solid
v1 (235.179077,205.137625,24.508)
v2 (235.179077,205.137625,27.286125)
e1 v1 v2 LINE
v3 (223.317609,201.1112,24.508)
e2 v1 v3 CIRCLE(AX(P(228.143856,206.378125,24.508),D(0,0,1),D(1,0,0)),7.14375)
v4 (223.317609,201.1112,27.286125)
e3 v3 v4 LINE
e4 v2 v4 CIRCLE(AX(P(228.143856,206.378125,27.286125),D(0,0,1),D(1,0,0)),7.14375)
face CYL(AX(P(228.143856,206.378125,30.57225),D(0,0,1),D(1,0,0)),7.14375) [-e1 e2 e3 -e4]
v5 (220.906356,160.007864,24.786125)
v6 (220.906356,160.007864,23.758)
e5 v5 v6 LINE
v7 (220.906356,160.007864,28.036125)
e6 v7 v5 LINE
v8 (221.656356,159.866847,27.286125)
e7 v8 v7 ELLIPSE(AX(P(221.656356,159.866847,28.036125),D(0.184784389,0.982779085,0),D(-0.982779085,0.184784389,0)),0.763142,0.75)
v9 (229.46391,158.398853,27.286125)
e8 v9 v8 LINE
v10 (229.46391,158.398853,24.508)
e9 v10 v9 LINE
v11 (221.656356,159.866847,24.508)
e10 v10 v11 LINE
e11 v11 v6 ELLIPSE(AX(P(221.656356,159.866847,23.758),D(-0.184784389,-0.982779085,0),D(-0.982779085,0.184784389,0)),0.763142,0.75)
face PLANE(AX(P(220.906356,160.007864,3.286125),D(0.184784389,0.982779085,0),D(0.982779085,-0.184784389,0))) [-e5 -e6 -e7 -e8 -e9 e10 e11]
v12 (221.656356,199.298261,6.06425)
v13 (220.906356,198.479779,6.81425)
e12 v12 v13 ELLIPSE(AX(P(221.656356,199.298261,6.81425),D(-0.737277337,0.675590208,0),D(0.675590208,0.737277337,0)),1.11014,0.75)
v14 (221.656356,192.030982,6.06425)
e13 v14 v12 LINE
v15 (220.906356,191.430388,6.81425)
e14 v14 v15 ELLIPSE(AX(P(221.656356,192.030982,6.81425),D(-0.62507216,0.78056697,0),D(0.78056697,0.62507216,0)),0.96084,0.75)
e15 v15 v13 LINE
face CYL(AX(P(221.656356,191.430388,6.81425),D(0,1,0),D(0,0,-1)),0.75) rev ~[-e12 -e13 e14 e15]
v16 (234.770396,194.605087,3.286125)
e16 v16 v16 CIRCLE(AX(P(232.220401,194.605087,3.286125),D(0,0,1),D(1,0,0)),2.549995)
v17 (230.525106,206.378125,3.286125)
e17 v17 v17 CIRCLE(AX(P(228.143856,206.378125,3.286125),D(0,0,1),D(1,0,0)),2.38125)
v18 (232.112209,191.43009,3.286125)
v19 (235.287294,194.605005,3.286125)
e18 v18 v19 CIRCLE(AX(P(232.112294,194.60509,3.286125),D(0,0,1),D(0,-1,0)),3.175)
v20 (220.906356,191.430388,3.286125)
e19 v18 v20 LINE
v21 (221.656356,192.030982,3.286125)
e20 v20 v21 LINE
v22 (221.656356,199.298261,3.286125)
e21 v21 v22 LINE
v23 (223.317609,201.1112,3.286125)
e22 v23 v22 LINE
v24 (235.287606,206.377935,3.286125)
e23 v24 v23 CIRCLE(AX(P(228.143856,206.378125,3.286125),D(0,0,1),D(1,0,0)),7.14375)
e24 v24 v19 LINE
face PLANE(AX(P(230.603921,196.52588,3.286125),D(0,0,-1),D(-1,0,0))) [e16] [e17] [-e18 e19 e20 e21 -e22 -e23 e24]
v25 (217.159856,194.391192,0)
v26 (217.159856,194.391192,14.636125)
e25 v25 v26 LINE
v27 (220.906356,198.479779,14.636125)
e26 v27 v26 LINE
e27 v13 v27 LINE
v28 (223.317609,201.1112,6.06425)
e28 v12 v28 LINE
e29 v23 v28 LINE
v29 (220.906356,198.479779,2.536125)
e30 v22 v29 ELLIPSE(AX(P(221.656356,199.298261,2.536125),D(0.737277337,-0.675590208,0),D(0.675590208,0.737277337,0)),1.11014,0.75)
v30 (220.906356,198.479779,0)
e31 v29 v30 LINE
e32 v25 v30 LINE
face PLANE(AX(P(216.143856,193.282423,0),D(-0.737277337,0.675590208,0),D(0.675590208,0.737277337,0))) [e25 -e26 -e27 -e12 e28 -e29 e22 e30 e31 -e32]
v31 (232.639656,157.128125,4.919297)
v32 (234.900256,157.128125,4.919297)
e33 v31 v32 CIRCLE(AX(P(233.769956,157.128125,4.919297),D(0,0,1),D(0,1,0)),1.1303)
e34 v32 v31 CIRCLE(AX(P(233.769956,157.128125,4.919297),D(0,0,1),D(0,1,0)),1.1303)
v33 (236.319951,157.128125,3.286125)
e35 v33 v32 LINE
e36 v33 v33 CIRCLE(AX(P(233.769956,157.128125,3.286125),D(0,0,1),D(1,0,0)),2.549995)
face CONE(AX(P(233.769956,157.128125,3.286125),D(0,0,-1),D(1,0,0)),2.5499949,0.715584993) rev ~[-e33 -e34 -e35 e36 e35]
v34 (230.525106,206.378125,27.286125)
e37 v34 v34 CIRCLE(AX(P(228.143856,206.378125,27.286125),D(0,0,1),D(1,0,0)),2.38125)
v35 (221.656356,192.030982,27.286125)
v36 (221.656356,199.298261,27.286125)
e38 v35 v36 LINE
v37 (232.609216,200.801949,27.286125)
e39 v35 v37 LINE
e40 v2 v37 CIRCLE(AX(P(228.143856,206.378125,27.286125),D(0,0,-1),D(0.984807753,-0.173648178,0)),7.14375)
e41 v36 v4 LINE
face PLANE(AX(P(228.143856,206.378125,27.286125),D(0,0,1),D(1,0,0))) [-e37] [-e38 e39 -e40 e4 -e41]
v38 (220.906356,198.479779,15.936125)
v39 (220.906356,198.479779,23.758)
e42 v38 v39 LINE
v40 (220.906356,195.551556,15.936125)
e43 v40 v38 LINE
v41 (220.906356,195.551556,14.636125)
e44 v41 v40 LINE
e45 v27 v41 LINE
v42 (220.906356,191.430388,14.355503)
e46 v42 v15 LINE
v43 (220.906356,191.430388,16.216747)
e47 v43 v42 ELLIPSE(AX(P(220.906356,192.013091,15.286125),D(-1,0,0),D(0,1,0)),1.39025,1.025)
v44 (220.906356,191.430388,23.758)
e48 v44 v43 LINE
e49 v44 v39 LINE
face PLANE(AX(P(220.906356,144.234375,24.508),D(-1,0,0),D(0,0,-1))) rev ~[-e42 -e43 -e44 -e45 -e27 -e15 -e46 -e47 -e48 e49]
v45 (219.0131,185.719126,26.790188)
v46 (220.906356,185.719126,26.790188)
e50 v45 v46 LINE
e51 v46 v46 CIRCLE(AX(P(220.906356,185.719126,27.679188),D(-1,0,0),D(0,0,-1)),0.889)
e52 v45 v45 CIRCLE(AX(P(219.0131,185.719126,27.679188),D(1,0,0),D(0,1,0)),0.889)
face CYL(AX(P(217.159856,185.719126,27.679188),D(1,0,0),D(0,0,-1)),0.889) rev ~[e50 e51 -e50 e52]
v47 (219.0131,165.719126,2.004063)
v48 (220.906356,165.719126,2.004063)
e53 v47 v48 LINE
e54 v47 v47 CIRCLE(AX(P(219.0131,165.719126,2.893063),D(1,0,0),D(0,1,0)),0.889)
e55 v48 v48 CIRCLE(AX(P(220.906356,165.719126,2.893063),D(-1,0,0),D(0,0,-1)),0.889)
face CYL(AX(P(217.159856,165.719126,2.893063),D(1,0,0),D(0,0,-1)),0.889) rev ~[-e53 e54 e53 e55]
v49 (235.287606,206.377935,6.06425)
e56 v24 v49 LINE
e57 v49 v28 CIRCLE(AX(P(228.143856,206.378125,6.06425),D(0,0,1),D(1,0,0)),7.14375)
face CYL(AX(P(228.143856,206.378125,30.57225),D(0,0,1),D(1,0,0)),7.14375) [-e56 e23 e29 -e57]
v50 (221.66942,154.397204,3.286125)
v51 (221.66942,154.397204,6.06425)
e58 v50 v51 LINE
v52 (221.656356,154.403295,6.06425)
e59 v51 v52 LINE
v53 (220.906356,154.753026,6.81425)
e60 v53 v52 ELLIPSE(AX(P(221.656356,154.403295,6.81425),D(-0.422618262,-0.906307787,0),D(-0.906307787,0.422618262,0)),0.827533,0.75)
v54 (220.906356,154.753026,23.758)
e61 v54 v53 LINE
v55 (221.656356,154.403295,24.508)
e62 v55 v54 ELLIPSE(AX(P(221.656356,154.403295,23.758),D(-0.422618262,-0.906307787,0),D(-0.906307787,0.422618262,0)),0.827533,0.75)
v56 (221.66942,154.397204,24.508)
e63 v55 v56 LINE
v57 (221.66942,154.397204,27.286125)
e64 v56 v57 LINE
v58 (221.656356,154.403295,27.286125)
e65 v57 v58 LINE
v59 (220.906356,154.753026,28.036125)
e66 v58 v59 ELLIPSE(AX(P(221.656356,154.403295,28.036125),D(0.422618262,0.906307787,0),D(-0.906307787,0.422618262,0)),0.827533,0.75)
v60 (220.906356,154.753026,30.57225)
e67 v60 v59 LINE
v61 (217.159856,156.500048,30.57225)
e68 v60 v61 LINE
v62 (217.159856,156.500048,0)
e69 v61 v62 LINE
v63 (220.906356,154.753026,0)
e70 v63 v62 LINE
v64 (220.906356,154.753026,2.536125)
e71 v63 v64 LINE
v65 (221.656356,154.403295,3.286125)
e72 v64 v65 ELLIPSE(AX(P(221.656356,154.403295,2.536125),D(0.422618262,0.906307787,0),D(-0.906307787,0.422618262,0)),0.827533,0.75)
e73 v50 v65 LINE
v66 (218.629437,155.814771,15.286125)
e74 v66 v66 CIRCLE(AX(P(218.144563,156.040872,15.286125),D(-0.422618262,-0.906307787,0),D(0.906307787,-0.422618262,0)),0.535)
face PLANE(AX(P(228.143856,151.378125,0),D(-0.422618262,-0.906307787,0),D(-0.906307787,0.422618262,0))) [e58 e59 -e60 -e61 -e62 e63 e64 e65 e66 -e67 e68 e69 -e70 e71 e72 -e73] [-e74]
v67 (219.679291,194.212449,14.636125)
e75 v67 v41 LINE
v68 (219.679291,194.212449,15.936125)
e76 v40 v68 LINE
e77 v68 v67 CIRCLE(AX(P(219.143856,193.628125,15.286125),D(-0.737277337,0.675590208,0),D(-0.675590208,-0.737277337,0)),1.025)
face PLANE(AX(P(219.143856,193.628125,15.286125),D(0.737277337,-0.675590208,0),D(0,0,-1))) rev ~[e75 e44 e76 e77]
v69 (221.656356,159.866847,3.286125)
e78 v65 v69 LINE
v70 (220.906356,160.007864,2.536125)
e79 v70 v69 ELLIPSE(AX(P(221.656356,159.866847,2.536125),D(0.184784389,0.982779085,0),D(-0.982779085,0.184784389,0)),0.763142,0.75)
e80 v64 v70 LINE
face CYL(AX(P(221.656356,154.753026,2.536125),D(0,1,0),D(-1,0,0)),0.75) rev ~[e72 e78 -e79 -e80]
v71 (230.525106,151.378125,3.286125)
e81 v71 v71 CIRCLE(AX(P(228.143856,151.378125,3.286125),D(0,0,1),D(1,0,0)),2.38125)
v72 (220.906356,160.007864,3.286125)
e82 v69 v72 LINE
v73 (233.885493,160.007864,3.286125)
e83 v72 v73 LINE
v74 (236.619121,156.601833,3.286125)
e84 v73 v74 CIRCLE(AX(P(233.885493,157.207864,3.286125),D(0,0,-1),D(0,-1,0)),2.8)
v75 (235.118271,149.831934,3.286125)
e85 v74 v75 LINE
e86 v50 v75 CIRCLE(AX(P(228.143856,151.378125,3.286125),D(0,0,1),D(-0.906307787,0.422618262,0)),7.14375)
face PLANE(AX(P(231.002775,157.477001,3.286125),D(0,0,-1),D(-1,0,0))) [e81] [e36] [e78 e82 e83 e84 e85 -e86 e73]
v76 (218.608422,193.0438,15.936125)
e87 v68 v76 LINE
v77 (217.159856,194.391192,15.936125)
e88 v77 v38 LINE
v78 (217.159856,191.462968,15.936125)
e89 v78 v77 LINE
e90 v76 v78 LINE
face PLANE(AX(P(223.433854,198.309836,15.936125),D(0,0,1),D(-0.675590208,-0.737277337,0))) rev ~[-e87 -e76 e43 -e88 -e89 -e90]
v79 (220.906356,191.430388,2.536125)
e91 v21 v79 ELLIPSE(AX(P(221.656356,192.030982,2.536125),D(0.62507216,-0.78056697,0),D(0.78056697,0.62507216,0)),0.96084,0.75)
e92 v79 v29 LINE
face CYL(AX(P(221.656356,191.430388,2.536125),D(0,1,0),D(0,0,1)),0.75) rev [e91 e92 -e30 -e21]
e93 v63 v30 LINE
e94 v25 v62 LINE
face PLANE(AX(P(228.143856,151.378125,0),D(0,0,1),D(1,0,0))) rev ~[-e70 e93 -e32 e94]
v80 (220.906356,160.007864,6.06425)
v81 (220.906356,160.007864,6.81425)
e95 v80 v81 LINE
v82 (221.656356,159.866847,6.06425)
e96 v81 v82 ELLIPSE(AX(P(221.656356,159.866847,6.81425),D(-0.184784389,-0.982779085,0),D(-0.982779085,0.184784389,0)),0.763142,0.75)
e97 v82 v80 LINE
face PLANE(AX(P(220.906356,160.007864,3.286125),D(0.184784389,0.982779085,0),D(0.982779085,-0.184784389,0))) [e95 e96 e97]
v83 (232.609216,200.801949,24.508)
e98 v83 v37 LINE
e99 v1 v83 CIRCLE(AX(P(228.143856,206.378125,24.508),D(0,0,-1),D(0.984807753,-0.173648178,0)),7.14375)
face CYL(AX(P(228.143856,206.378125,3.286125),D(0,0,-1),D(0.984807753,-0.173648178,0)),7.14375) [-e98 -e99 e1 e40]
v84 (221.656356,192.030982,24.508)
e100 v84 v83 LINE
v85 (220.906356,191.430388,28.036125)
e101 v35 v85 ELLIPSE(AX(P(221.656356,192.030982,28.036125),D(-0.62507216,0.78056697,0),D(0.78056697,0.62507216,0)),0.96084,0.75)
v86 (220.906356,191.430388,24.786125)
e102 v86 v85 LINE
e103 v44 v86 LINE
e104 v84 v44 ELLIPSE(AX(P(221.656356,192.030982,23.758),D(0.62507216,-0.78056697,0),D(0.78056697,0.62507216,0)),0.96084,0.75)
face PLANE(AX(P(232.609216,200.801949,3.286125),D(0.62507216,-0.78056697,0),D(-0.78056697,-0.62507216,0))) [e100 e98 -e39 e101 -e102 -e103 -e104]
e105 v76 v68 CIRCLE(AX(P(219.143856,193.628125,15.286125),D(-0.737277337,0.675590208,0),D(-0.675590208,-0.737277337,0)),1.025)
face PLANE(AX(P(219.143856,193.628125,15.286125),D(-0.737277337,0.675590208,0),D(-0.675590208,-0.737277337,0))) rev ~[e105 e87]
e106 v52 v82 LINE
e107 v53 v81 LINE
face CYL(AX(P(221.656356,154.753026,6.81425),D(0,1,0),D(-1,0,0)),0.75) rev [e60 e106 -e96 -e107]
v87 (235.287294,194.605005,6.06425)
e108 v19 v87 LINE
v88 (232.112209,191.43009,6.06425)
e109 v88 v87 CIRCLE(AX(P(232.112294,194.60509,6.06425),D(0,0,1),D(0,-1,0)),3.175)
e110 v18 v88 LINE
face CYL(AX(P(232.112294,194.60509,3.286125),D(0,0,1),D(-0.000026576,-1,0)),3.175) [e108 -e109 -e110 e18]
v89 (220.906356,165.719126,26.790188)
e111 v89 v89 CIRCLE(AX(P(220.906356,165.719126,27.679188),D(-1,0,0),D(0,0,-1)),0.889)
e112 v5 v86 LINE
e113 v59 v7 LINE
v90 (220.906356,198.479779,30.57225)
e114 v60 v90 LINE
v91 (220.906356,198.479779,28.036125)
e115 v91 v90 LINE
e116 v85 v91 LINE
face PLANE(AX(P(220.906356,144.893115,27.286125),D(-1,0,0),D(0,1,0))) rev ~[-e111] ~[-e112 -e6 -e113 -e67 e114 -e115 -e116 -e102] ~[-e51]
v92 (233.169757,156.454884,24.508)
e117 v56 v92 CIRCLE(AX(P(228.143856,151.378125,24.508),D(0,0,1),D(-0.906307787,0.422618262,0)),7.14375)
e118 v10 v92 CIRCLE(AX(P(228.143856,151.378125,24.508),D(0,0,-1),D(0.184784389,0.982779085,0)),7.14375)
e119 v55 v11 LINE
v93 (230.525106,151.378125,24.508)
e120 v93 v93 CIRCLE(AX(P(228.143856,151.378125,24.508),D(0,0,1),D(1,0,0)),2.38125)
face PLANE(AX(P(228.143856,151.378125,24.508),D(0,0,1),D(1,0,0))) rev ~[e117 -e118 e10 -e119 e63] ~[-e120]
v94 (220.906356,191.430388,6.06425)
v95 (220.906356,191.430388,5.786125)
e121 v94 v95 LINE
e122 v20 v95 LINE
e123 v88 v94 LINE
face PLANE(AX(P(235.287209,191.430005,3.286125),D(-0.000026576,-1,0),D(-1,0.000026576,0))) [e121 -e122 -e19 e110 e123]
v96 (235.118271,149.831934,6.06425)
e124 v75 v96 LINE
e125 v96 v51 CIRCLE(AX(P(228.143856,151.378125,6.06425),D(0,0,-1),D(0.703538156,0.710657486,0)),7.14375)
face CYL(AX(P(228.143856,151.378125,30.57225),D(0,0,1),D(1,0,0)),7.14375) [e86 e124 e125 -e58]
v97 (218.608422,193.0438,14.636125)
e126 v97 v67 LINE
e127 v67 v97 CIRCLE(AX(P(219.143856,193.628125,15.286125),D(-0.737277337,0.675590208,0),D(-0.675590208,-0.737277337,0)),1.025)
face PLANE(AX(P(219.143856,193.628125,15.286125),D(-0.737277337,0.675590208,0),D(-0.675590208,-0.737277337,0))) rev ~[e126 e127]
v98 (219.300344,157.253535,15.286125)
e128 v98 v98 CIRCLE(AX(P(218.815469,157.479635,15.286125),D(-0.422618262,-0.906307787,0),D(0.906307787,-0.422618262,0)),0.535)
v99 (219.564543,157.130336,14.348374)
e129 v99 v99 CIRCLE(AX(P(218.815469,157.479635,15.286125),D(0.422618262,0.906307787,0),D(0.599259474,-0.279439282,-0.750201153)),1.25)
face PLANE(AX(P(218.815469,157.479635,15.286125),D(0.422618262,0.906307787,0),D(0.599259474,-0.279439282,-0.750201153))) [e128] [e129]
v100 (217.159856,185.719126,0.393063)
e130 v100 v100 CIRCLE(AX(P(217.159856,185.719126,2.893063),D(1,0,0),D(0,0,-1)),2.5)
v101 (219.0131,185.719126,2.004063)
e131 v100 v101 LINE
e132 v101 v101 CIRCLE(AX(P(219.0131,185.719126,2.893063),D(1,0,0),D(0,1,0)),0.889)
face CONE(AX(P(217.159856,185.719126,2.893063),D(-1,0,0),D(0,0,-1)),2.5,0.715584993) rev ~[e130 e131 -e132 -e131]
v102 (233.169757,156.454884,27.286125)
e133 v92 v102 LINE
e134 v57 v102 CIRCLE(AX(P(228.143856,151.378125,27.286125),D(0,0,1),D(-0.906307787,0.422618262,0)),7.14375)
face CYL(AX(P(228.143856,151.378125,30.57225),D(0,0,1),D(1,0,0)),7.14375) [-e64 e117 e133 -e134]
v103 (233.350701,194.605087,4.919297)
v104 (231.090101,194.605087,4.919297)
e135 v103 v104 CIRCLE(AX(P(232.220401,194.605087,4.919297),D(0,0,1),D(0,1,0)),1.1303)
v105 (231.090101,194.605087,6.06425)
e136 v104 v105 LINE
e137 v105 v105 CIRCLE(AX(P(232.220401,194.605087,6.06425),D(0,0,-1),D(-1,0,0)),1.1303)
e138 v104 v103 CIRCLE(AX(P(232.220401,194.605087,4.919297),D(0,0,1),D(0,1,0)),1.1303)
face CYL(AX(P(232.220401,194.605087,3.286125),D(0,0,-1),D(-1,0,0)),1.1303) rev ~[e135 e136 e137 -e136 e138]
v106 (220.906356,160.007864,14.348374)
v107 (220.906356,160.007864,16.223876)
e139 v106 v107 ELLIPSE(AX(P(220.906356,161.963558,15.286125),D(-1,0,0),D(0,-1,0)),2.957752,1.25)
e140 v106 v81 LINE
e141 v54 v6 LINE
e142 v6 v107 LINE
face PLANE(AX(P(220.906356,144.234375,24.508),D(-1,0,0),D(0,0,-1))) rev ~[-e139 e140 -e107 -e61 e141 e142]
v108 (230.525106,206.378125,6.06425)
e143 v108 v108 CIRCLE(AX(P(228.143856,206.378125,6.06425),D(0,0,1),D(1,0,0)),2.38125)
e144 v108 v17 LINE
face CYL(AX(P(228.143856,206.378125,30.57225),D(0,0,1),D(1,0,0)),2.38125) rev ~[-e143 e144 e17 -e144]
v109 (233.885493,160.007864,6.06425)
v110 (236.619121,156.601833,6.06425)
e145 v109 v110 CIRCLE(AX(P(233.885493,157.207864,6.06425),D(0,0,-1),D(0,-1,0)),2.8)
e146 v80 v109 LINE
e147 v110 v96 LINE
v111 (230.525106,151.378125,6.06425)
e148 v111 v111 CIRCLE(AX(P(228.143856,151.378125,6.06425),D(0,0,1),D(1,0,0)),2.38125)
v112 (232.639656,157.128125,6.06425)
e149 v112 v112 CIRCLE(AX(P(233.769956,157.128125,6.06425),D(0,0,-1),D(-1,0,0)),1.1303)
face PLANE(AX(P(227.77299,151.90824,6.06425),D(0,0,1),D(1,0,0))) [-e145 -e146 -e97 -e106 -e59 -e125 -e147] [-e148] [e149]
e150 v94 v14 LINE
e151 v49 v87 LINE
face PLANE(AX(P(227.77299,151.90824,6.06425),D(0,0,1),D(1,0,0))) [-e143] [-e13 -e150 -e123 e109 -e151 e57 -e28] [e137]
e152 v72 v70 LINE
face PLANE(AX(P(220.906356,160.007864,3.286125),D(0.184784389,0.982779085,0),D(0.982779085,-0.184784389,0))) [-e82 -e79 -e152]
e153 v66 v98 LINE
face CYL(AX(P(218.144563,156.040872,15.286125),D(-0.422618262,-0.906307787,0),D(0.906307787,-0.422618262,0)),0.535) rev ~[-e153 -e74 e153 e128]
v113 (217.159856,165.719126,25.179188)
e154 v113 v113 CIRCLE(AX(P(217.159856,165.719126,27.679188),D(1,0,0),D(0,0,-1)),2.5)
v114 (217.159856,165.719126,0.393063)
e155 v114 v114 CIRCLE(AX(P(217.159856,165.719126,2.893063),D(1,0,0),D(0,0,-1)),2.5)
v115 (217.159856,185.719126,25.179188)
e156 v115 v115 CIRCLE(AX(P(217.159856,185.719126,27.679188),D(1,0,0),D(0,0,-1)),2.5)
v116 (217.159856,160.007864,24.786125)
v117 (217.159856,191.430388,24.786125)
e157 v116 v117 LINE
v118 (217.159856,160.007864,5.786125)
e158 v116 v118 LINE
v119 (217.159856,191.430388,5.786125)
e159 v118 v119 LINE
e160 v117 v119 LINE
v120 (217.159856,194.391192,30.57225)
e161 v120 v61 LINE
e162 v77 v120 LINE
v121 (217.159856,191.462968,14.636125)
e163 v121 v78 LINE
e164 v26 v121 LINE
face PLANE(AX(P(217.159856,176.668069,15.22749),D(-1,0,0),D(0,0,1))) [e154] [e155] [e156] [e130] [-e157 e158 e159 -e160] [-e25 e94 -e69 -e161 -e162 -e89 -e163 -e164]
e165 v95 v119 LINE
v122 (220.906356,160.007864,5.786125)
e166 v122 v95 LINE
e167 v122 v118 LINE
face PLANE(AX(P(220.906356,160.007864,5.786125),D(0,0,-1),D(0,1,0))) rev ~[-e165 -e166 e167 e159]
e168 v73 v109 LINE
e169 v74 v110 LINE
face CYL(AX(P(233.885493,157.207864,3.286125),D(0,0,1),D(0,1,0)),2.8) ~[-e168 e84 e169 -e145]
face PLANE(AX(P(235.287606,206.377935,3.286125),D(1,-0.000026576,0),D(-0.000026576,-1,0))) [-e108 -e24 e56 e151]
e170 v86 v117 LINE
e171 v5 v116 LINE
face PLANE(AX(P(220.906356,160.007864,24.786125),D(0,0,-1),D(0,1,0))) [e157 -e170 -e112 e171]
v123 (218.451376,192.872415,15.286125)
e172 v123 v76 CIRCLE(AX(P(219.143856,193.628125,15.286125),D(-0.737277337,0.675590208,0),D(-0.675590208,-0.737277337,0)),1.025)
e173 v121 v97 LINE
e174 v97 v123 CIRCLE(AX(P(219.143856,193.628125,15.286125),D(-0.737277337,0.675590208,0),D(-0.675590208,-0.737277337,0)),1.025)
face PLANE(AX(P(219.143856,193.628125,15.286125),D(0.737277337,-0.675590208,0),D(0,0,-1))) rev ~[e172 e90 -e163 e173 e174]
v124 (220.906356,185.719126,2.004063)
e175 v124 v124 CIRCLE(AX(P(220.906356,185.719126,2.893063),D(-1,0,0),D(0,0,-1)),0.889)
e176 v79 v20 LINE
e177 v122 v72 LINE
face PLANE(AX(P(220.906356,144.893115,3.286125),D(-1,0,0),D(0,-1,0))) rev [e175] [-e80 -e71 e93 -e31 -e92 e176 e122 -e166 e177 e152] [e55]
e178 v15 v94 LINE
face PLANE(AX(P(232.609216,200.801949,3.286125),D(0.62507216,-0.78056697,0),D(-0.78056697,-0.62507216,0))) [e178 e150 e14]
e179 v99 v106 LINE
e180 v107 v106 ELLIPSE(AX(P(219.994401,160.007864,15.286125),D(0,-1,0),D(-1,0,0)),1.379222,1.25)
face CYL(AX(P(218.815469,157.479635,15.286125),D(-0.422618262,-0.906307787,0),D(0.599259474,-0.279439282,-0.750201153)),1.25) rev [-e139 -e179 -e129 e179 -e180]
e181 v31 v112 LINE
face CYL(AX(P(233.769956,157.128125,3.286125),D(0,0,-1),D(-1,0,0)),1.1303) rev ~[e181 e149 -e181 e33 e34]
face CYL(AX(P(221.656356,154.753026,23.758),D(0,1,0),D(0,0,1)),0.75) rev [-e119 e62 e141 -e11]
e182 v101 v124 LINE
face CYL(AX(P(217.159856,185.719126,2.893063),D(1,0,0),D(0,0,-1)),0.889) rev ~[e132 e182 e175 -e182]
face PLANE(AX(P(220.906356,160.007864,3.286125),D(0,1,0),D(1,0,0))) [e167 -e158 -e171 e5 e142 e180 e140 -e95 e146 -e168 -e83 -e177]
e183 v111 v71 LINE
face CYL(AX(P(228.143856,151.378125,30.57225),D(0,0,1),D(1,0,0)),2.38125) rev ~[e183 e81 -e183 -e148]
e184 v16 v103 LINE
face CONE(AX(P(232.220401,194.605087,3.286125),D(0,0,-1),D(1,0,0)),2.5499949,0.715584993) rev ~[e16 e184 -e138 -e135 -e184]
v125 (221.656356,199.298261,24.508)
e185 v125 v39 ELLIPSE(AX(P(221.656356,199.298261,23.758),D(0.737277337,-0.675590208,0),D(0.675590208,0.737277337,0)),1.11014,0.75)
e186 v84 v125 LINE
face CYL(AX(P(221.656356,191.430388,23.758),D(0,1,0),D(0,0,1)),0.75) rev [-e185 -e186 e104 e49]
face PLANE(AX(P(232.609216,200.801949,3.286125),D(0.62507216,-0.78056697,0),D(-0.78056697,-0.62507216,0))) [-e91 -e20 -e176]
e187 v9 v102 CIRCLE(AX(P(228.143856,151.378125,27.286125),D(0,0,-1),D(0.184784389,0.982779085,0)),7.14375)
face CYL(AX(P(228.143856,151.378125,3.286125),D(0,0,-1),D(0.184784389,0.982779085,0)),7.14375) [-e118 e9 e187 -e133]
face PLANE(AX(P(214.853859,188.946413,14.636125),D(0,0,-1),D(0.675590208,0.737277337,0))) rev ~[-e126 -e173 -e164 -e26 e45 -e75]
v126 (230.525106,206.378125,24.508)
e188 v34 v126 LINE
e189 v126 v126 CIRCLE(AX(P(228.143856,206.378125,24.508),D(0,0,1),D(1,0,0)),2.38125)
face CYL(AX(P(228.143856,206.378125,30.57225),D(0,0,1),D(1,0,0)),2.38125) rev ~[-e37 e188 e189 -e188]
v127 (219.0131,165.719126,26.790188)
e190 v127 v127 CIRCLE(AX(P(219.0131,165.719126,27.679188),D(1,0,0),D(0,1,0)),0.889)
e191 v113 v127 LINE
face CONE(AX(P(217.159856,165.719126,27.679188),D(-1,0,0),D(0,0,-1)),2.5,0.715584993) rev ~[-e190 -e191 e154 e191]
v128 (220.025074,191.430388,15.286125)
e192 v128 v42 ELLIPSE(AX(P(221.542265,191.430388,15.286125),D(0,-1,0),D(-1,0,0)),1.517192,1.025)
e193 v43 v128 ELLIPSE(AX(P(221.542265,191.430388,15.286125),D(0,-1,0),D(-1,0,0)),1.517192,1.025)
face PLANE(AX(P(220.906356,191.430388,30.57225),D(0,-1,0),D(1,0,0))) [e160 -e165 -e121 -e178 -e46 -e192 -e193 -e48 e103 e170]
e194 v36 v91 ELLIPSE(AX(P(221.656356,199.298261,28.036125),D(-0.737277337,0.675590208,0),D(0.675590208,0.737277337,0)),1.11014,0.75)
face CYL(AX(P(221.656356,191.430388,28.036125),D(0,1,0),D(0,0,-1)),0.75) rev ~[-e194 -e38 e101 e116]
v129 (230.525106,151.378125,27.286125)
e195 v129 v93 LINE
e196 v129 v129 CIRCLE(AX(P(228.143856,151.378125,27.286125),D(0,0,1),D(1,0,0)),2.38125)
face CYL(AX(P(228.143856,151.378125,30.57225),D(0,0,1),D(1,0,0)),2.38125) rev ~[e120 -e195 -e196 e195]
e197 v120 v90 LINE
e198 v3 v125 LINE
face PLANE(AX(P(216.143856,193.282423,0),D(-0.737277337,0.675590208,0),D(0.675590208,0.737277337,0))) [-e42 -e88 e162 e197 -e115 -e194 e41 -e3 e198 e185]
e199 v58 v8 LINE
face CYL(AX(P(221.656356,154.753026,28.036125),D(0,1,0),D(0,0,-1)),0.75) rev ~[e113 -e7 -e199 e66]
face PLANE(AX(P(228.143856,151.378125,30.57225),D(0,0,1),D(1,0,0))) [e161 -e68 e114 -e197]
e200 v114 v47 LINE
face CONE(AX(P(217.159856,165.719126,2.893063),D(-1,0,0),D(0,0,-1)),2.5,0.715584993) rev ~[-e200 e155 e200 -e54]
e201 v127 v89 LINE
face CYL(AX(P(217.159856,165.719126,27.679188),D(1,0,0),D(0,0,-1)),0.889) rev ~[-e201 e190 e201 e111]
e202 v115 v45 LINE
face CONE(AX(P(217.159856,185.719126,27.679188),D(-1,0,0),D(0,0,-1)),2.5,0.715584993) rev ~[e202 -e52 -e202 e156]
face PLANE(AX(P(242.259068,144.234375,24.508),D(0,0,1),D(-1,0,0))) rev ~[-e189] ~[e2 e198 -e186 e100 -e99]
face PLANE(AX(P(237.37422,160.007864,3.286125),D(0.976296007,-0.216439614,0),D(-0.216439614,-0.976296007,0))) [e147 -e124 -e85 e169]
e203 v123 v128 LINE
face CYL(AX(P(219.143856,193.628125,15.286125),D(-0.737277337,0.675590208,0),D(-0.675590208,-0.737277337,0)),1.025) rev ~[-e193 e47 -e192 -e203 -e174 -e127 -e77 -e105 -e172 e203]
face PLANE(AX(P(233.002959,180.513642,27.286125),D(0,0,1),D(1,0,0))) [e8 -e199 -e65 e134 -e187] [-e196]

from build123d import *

# Parameters (mm, degrees)
LINK_GEOMETRY_DEPTH                            = 30.572250038
SKETCH3_R                                      = 7.14375
JOINT_ROUNDS_DEPTH                             = 30.572250038
SKETCH5_R                                      = 2.38125
JOINT_HOLES_DEPTH                              = 323.793006671
SKETCH6_W                                      = 19.2375
SKETCH6_H                                      = 31.422524012
BULK_REMOVAL_DEPTH                             = 323.793006671
SKETCH7_W                                      = 19
SKETCH7_H                                      = 31.422524012
CONTACTPAD_OPENING_DEPTH                       = 217.555615914
SKETCH9_R                                      = 7.33425
CUT_EXTRUDE4_DEPTH                             = 3.286125
SKETCH12_W                                     = 53.268009521
SKETCH12_H                                     = 61.768223806
SURFACE_REDUCTION_DEPTH                        = 1.016
F_2_56_TAPPED_HOLE1_D                          = 1.778
F_2_56_TAPPED_HOLE1_CSINK_D                    = 5
F_2_56_TAPPED_HOLE1_CSINK_ANGLE                = 82
SKETCH19_R                                     = 7.33425
CUT_EXTRUDE8_DEPTH                             = 9.221875003
SKETCH20_W                                     = 21.352711571
SKETCH20_H                                     = 18.443750006
CUT_EXTRUDE9_DEPTH                             = 252.802485903
SKETCH21_W                                     = 24.193204712
SKETCH21_H                                     = 71.241054526
CUT_EXTRUDE10_DEPTH                            = 18.427750038
SKETCH22_R                                     = 0.535
CUT_EXTRUDE12_DEPTH                            = 18.427750038
SKETCH23_R                                     = 1.25
CUT_EXTRUDE13_DEPTH                            = 18.427750038
CUT_EXTRUDE14_DEPTH                            = 323.498364807
FILLET1_R                                      = 0.75
BOSS_EXTRUDE1_REACH                            = 320.899
SKETCH28_R                                     = 1.1303
PROX_SPRING_HOLE_DEPTH                         = 2.778125016
FILLET2_R                                      = 2.8
CSK_FOR_2_FLAT_HEAD_MACHINE_SCREW1_D           = 2.2606
CSK_FOR_2_FLAT_HEAD_MACHINE_SCREW1_DEPTH       = 2.777125016
CSK_FOR_2_FLAT_HEAD_MACHINE_SCREW1_CSINK_D     = 5.0999898
CSK_FOR_2_FLAT_HEAD_MACHINE_SCREW1_CSINK_ANGLE = 82
CSK_FOR_2_FLAT_HEAD_MACHINE_SCREW1_TIP         = 0.679152758
SKETCH32_R                                     = 1.025
DISTAL_SHEATH_HOLE_DEPTH                       = 19.05
DISTAL_SHEATH_SLOT_DEPTH                       = 19.05
FILLET3_R                                      = 3.175


with BuildPart() as part:
    # Sketch2 → link_geometry (new body)
    with BuildSketch(Plane.XY):
        Polygon((240.143856424, 163.499556409), (228.143856424, 151.378124535), (216.143856424, 156.973816433), (216.143856424, 193.282422523), (228.143856424, 206.378124535), (240.143856424, 204.262200767), align=None)
    extrude(amount=LINK_GEOMETRY_DEPTH)

    # Sketch3 → joint_rounds (add)
    with BuildSketch(Plane.XY.offset(30.572250038)):
        with Locations((228.143856424, 151.378124535)):
            Circle(SKETCH3_R)
        with Locations((228.143856424, 206.378124535)):
            Circle(SKETCH3_R)
    extrude(amount=-JOINT_ROUNDS_DEPTH)

    # Sketch5 → joint_holes (cut, through all)
    with BuildSketch(Plane.XY.offset(30.572250038)):
        with Locations((228.143856424, 206.378124535)):
            Circle(SKETCH5_R)
        with Locations((228.143856424, 151.378124535)):
            Circle(SKETCH5_R)
    extrude(amount=-JOINT_HOLES_DEPTH, mode=Mode.SUBTRACT)

    # Sketch6 → bulk_removal (cut, through all)
    with BuildSketch(Plane.XY.offset(30.572250038)):
        with Locations((230.525106424, 175.719125556)):
            Rectangle(SKETCH6_W, SKETCH6_H)
    extrude(amount=-BULK_REMOVAL_DEPTH, mode=Mode.SUBTRACT)

    # Sketch7 → contactpad_opening (cut, through all)
    with BuildSketch(Plane(origin=(220.906356424, 0, 0), x_dir=(0, 0, -1), z_dir=(1, 0, 0))):
        with Locations((-15.286125019, 175.719125556)):
            Rectangle(SKETCH7_W, SKETCH7_H)
    extrude(amount=-CONTACTPAD_OPENING_DEPTH, mode=Mode.SUBTRACT)

    # Sketch9 → Cut-Extrude4 (cut)
    with BuildSketch(Plane.XY.offset(30.572250038)):
        with Locations((228.143856424, 151.378124535)):
            Circle(SKETCH9_R)
        with Locations((228.143856424, 206.378124535)):
            Circle(SKETCH9_R)
    cut_extrude4 = extrude(amount=-CUT_EXTRUDE4_DEPTH, mode=Mode.SUBTRACT)

    # Sketch12 → surface_reduction (cut)
    with BuildSketch(Plane.ZY.offset(-216.143856424)):
        with Locations((15.227490437, 176.668068821)):
            Rectangle(SKETCH12_W, SKETCH12_H)
    extrude(amount=-SURFACE_REDUCTION_DEPTH, mode=Mode.SUBTRACT)

    # #2-56 Tapped Hole1 (through all)
    with Locations(Plane.ZY.offset(-217.159856424)):
        with Locations((2.893062509, 185.719125556), (2.893062509, 165.719125556), (27.679187528, 165.719125556), (27.679187528, 185.719125556)):
            CounterSinkHole(F_2_56_TAPPED_HOLE1_D / 2, F_2_56_TAPPED_HOLE1_CSINK_D / 2, counter_sink_angle=F_2_56_TAPPED_HOLE1_CSINK_ANGLE)

    # Sketch19 → Cut-Extrude8 (cut, symmetric)
    with BuildSketch(Plane.XY.offset(15.286125019)):
        with Locations((228.143856424, 206.378124535)):
            Circle(SKETCH19_R)
        with Locations((228.143856424, 151.378124535)):
            Circle(SKETCH19_R)
    extrude(amount=CUT_EXTRUDE8_DEPTH, both=True, mode=Mode.SUBTRACT)

    # Sketch20 → Cut-Extrude9 (cut, through all)
    with BuildSketch(Plane(origin=(0, 144.234374535, 0), x_dir=(-1, 0, 0), z_dir=(0, -1, 0))):
        with Locations((-231.58271221, -15.286125019)):
            Rectangle(SKETCH20_W, SKETCH20_H)
    extrude(amount=-CUT_EXTRUDE9_DEPTH, mode=Mode.SUBTRACT)

    # Sketch21 → Cut-Extrude10 (cut)
    with BuildSketch(Plane.XY.offset(27.286125038)):
        with Locations((233.00295878, 180.513642368)):
            Rectangle(SKETCH21_W, SKETCH21_H)
    cut_extrude10 = extrude(amount=CUT_EXTRUDE10_DEPTH, mode=Mode.SUBTRACT)

    # Mirror1: Cut-Extrude10 across plane
    add(cut_extrude10.mirror(Plane.XY.offset(15.286125019)), mode=Mode.SUBTRACT)

    # Mirror2: Cut-Extrude4 across plane
    add(cut_extrude4.mirror(Plane.XY.offset(15.286125019)), mode=Mode.SUBTRACT)

    # Sketch22 → Cut-Extrude12 (cut)
    with BuildSketch(Plane(origin=(98.729091699, 211.725220405, 0), x_dir=(0.906307787036652, -0.42261826174069506, 0), z_dir=(-0.42261826174069506, -0.906307787036652, 0))):
        with Locations((131.760393785, 15.286125019)):
            Circle(SKETCH22_R)
    extrude(amount=-CUT_EXTRUDE12_DEPTH, mode=Mode.SUBTRACT)

    # Sketch23 → Cut-Extrude13 (cut)
    with BuildSketch(Plane(origin=(99.39999819, 213.163984017, 0), x_dir=(0.906307787036652, -0.42261826174069506, 0), z_dir=(0.42261826174069506, 0.906307787036652, 0))):
        with Locations(Location((131.760393785, -15.286125019, 0), (0, 0, 48.607805398))):
            Circle(SKETCH23_R)
    extrude(amount=CUT_EXTRUDE13_DEPTH, mode=Mode.SUBTRACT)

    # Sketch25 → Cut-Extrude14 (cut, through all)
    with BuildSketch(Plane(origin=(0, 0, 3.286125), x_dir=(-1, 0, 0), z_dir=(0, 0, -1))):
        with BuildLine():
            Line((-220.906356424, 160.00786355), (-229.4639099, 158.398852623))
            ThreePointArc((-229.4639099, 158.398852623), (-231.462370725, 157.704310345), (-233.169757129, 156.454883952))
            Line((-233.169757129, 156.454883952), (-246.03003643, 156.454883952))
            Line((-246.03003643, 156.454883952), (-246.03003643, 205.137625366))
            Line((-246.03003643, 205.137625366), (-235.17907681, 205.137625366))
            ThreePointArc((-235.17907681, 205.137625366), (-234.289208718, 202.735624123), (-232.609215668, 200.801949243))
            Line((-232.609215668, 200.801949243), (-220.906356424, 191.430387562))
            Line((-220.906356424, 191.430387562), (-220.906356424, 160.00786355))
        make_face()
    extrude(amount=-CUT_EXTRUDE14_DEPTH, mode=Mode.SUBTRACT)

    # Fillet1
    fillet1_edges = [part.edges().sort_by_distance(p)[0] for p in [
        (220.906356424, 157.380444881, 6.064250016),
        (220.906356424, 194.955083411, 6.064250016),
        (220.906356424, 157.380444881, 24.508000022),
        (220.906356424, 194.955083411, 24.508000022),
        (220.906356424, 194.955083411, 27.286125038),
        (220.906356424, 157.380444881, 27.286125038),
        (220.906356424, 157.380444881, 3.286125),
        (220.906356424, 194.955083411, 3.286125),
    ]]
    fillet(fillet1_edges, radius=FILLET1_R)

    # Boss-Extrude1: up to this face of the body (flat: up to its plane)
    boss_extrude1_end = Plane(part.part.faces().sort_by_distance((221.752390309, 154.592187289, 6.064250016))[0])
    # Sketch26 → Boss-Extrude1 (add, up to the picked face)
    with BuildSketch(Plane(origin=(0, 0, 3.286125), x_dir=(-1, 0, 0), z_dir=(0, 0, -1)), mode=Mode.PRIVATE) as boss_extrude1_sk1:
        with BuildLine():
            Line((-220.906356424, 160.00786355), (-235.287606424, 160.00786355))
            Line((-235.287606424, 160.00786355), (-237.374220284, 160.00786355))
            Line((-237.374220284, 160.00786355), (-235.118271025, 149.831934043))
            ThreePointArc((-235.118271025, 149.831934043), (-234.106035024, 155.313298027), (-229.4639099, 158.398852623))
            Line((-229.4639099, 158.398852623), (-220.906356424, 160.00786355))
        make_face()
    boss_extrude1_tool1 = split(extrude(boss_extrude1_sk1.sketch, amount=-BOSS_EXTRUDE1_REACH, mode=Mode.PRIVATE), bisect_by=boss_extrude1_end, keep=Keep.BOTH, mode=Mode.PRIVATE)
    # Sketch26 → Boss-Extrude1 (add, up to the picked face)
    with BuildSketch(Plane(origin=(0, 0, 3.286125), x_dir=(-1, 0, 0), z_dir=(0, 0, -1)), mode=Mode.PRIVATE) as boss_extrude1_sk2:
        with BuildLine():
            Line((-220.906356424, 191.430387562), (-232.609215668, 200.801949243))
            ThreePointArc((-232.609215668, 200.801949243), (-234.583247525, 203.285002115), (-235.287606422, 206.377934686))
            Line((-235.287606422, 206.377934686), (-235.287209171, 191.430005382))
            Line((-235.287209171, 191.430005382), (-220.906356424, 191.430387562))
        make_face()
    boss_extrude1_tool2 = split(extrude(boss_extrude1_sk2.sketch, amount=-BOSS_EXTRUDE1_REACH, mode=Mode.PRIVATE), bisect_by=boss_extrude1_end, keep=Keep.BOTH, mode=Mode.PRIVATE)
    add(boss_extrude1_tool1.solids().sort_by(Axis((232.662189, 157.945837, 3.286125), (0, 0, 1)))[0])
    add(boss_extrude1_tool2.solids().sort_by(Axis((230.577028, 195.425201, 3.286125), (0, 0, 1)))[0])

    # Sketch28 → prox_spring_hole (cut)
    with BuildSketch(Plane(origin=(0, 0, 3.286125), x_dir=(-1, 0, 0), z_dir=(0, 0, -1))):
        with Locations((-233.769956424, 157.128124535)):
            Circle(SKETCH28_R)
        with Locations((-232.220400769, 194.605086885)):
            Circle(SKETCH28_R)
    extrude(amount=-PROX_SPRING_HOLE_DEPTH, mode=Mode.SUBTRACT)

    # Fillet2
    fillet2_edges = [part.edges().sort_by_distance(p)[0] for p in [
        (237.374220284, 160.00786355, 4.675187508),
    ]]
    fillet(fillet2_edges, radius=FILLET2_R)

    # CSK for #2 Flat Head Machine Screw1
    with Locations(Plane(origin=(0, 0, 3.286125), x_dir=(-1, 0, 0), z_dir=(0, 0, -1))):
        with Locations((-233.769956424, 157.128124535), (-232.220400769, 194.605086885)):
            CounterSinkHole(CSK_FOR_2_FLAT_HEAD_MACHINE_SCREW1_D / 2, CSK_FOR_2_FLAT_HEAD_MACHINE_SCREW1_CSINK_D / 2, depth=CSK_FOR_2_FLAT_HEAD_MACHINE_SCREW1_DEPTH, counter_sink_angle=CSK_FOR_2_FLAT_HEAD_MACHINE_SCREW1_CSINK_ANGLE)
            with Locations((0, 0, -(CSK_FOR_2_FLAT_HEAD_MACHINE_SCREW1_DEPTH + CSK_FOR_2_FLAT_HEAD_MACHINE_SCREW1_TIP / 2))):  # 118° drill point
                Cone(0, CSK_FOR_2_FLAT_HEAD_MACHINE_SCREW1_D / 2, CSK_FOR_2_FLAT_HEAD_MACHINE_SCREW1_TIP, mode=Mode.SUBTRACT)

    # Sketch32 → distal_sheath_hole (cut)
    with BuildSketch(Plane(origin=(22.676095468, -20.778813182, 0), x_dir=(0, 0, 1), z_dir=(-0.7372773368101212, 0.6755902076156635, 0))):
        with Locations(Location((15.286125019, 290.809071448, 0), (0, 0, 270))):
            Circle(SKETCH32_R)
    extrude(amount=-DISTAL_SHEATH_HOLE_DEPTH, mode=Mode.SUBTRACT)

    # Sketch33 → distal_sheath_slot (cut)
    with BuildSketch(Plane(origin=(22.676095468, -20.778813182, 0), x_dir=(0, 0, -1), z_dir=(0.7372773368101211, -0.6755902076156636, 0))):
        with BuildLine():
            Line((-15.936125019, 297.159071448), (-15.936125019, 284.459071448))
            ThreePointArc((-15.936125019, 284.459071448), (-15.286125019, 283.809071448), (-14.636125019, 284.459071448))
            Line((-14.636125019, 284.459071448), (-14.636125019, 297.159071448))
            ThreePointArc((-14.636125019, 297.159071448), (-15.286125019, 297.809071448), (-15.936125019, 297.159071448))
        make_face()
    extrude(amount=-DISTAL_SHEATH_SLOT_DEPTH, mode=Mode.SUBTRACT)

    # Fillet3
    fillet3_edges = [part.edges().sort_by_distance(p)[0] for p in [
        (235.287209171, 191.430005382, 4.675187508),
    ]]
    fillet(fillet3_edges, radius=FILLET3_R)


solid = part.part
